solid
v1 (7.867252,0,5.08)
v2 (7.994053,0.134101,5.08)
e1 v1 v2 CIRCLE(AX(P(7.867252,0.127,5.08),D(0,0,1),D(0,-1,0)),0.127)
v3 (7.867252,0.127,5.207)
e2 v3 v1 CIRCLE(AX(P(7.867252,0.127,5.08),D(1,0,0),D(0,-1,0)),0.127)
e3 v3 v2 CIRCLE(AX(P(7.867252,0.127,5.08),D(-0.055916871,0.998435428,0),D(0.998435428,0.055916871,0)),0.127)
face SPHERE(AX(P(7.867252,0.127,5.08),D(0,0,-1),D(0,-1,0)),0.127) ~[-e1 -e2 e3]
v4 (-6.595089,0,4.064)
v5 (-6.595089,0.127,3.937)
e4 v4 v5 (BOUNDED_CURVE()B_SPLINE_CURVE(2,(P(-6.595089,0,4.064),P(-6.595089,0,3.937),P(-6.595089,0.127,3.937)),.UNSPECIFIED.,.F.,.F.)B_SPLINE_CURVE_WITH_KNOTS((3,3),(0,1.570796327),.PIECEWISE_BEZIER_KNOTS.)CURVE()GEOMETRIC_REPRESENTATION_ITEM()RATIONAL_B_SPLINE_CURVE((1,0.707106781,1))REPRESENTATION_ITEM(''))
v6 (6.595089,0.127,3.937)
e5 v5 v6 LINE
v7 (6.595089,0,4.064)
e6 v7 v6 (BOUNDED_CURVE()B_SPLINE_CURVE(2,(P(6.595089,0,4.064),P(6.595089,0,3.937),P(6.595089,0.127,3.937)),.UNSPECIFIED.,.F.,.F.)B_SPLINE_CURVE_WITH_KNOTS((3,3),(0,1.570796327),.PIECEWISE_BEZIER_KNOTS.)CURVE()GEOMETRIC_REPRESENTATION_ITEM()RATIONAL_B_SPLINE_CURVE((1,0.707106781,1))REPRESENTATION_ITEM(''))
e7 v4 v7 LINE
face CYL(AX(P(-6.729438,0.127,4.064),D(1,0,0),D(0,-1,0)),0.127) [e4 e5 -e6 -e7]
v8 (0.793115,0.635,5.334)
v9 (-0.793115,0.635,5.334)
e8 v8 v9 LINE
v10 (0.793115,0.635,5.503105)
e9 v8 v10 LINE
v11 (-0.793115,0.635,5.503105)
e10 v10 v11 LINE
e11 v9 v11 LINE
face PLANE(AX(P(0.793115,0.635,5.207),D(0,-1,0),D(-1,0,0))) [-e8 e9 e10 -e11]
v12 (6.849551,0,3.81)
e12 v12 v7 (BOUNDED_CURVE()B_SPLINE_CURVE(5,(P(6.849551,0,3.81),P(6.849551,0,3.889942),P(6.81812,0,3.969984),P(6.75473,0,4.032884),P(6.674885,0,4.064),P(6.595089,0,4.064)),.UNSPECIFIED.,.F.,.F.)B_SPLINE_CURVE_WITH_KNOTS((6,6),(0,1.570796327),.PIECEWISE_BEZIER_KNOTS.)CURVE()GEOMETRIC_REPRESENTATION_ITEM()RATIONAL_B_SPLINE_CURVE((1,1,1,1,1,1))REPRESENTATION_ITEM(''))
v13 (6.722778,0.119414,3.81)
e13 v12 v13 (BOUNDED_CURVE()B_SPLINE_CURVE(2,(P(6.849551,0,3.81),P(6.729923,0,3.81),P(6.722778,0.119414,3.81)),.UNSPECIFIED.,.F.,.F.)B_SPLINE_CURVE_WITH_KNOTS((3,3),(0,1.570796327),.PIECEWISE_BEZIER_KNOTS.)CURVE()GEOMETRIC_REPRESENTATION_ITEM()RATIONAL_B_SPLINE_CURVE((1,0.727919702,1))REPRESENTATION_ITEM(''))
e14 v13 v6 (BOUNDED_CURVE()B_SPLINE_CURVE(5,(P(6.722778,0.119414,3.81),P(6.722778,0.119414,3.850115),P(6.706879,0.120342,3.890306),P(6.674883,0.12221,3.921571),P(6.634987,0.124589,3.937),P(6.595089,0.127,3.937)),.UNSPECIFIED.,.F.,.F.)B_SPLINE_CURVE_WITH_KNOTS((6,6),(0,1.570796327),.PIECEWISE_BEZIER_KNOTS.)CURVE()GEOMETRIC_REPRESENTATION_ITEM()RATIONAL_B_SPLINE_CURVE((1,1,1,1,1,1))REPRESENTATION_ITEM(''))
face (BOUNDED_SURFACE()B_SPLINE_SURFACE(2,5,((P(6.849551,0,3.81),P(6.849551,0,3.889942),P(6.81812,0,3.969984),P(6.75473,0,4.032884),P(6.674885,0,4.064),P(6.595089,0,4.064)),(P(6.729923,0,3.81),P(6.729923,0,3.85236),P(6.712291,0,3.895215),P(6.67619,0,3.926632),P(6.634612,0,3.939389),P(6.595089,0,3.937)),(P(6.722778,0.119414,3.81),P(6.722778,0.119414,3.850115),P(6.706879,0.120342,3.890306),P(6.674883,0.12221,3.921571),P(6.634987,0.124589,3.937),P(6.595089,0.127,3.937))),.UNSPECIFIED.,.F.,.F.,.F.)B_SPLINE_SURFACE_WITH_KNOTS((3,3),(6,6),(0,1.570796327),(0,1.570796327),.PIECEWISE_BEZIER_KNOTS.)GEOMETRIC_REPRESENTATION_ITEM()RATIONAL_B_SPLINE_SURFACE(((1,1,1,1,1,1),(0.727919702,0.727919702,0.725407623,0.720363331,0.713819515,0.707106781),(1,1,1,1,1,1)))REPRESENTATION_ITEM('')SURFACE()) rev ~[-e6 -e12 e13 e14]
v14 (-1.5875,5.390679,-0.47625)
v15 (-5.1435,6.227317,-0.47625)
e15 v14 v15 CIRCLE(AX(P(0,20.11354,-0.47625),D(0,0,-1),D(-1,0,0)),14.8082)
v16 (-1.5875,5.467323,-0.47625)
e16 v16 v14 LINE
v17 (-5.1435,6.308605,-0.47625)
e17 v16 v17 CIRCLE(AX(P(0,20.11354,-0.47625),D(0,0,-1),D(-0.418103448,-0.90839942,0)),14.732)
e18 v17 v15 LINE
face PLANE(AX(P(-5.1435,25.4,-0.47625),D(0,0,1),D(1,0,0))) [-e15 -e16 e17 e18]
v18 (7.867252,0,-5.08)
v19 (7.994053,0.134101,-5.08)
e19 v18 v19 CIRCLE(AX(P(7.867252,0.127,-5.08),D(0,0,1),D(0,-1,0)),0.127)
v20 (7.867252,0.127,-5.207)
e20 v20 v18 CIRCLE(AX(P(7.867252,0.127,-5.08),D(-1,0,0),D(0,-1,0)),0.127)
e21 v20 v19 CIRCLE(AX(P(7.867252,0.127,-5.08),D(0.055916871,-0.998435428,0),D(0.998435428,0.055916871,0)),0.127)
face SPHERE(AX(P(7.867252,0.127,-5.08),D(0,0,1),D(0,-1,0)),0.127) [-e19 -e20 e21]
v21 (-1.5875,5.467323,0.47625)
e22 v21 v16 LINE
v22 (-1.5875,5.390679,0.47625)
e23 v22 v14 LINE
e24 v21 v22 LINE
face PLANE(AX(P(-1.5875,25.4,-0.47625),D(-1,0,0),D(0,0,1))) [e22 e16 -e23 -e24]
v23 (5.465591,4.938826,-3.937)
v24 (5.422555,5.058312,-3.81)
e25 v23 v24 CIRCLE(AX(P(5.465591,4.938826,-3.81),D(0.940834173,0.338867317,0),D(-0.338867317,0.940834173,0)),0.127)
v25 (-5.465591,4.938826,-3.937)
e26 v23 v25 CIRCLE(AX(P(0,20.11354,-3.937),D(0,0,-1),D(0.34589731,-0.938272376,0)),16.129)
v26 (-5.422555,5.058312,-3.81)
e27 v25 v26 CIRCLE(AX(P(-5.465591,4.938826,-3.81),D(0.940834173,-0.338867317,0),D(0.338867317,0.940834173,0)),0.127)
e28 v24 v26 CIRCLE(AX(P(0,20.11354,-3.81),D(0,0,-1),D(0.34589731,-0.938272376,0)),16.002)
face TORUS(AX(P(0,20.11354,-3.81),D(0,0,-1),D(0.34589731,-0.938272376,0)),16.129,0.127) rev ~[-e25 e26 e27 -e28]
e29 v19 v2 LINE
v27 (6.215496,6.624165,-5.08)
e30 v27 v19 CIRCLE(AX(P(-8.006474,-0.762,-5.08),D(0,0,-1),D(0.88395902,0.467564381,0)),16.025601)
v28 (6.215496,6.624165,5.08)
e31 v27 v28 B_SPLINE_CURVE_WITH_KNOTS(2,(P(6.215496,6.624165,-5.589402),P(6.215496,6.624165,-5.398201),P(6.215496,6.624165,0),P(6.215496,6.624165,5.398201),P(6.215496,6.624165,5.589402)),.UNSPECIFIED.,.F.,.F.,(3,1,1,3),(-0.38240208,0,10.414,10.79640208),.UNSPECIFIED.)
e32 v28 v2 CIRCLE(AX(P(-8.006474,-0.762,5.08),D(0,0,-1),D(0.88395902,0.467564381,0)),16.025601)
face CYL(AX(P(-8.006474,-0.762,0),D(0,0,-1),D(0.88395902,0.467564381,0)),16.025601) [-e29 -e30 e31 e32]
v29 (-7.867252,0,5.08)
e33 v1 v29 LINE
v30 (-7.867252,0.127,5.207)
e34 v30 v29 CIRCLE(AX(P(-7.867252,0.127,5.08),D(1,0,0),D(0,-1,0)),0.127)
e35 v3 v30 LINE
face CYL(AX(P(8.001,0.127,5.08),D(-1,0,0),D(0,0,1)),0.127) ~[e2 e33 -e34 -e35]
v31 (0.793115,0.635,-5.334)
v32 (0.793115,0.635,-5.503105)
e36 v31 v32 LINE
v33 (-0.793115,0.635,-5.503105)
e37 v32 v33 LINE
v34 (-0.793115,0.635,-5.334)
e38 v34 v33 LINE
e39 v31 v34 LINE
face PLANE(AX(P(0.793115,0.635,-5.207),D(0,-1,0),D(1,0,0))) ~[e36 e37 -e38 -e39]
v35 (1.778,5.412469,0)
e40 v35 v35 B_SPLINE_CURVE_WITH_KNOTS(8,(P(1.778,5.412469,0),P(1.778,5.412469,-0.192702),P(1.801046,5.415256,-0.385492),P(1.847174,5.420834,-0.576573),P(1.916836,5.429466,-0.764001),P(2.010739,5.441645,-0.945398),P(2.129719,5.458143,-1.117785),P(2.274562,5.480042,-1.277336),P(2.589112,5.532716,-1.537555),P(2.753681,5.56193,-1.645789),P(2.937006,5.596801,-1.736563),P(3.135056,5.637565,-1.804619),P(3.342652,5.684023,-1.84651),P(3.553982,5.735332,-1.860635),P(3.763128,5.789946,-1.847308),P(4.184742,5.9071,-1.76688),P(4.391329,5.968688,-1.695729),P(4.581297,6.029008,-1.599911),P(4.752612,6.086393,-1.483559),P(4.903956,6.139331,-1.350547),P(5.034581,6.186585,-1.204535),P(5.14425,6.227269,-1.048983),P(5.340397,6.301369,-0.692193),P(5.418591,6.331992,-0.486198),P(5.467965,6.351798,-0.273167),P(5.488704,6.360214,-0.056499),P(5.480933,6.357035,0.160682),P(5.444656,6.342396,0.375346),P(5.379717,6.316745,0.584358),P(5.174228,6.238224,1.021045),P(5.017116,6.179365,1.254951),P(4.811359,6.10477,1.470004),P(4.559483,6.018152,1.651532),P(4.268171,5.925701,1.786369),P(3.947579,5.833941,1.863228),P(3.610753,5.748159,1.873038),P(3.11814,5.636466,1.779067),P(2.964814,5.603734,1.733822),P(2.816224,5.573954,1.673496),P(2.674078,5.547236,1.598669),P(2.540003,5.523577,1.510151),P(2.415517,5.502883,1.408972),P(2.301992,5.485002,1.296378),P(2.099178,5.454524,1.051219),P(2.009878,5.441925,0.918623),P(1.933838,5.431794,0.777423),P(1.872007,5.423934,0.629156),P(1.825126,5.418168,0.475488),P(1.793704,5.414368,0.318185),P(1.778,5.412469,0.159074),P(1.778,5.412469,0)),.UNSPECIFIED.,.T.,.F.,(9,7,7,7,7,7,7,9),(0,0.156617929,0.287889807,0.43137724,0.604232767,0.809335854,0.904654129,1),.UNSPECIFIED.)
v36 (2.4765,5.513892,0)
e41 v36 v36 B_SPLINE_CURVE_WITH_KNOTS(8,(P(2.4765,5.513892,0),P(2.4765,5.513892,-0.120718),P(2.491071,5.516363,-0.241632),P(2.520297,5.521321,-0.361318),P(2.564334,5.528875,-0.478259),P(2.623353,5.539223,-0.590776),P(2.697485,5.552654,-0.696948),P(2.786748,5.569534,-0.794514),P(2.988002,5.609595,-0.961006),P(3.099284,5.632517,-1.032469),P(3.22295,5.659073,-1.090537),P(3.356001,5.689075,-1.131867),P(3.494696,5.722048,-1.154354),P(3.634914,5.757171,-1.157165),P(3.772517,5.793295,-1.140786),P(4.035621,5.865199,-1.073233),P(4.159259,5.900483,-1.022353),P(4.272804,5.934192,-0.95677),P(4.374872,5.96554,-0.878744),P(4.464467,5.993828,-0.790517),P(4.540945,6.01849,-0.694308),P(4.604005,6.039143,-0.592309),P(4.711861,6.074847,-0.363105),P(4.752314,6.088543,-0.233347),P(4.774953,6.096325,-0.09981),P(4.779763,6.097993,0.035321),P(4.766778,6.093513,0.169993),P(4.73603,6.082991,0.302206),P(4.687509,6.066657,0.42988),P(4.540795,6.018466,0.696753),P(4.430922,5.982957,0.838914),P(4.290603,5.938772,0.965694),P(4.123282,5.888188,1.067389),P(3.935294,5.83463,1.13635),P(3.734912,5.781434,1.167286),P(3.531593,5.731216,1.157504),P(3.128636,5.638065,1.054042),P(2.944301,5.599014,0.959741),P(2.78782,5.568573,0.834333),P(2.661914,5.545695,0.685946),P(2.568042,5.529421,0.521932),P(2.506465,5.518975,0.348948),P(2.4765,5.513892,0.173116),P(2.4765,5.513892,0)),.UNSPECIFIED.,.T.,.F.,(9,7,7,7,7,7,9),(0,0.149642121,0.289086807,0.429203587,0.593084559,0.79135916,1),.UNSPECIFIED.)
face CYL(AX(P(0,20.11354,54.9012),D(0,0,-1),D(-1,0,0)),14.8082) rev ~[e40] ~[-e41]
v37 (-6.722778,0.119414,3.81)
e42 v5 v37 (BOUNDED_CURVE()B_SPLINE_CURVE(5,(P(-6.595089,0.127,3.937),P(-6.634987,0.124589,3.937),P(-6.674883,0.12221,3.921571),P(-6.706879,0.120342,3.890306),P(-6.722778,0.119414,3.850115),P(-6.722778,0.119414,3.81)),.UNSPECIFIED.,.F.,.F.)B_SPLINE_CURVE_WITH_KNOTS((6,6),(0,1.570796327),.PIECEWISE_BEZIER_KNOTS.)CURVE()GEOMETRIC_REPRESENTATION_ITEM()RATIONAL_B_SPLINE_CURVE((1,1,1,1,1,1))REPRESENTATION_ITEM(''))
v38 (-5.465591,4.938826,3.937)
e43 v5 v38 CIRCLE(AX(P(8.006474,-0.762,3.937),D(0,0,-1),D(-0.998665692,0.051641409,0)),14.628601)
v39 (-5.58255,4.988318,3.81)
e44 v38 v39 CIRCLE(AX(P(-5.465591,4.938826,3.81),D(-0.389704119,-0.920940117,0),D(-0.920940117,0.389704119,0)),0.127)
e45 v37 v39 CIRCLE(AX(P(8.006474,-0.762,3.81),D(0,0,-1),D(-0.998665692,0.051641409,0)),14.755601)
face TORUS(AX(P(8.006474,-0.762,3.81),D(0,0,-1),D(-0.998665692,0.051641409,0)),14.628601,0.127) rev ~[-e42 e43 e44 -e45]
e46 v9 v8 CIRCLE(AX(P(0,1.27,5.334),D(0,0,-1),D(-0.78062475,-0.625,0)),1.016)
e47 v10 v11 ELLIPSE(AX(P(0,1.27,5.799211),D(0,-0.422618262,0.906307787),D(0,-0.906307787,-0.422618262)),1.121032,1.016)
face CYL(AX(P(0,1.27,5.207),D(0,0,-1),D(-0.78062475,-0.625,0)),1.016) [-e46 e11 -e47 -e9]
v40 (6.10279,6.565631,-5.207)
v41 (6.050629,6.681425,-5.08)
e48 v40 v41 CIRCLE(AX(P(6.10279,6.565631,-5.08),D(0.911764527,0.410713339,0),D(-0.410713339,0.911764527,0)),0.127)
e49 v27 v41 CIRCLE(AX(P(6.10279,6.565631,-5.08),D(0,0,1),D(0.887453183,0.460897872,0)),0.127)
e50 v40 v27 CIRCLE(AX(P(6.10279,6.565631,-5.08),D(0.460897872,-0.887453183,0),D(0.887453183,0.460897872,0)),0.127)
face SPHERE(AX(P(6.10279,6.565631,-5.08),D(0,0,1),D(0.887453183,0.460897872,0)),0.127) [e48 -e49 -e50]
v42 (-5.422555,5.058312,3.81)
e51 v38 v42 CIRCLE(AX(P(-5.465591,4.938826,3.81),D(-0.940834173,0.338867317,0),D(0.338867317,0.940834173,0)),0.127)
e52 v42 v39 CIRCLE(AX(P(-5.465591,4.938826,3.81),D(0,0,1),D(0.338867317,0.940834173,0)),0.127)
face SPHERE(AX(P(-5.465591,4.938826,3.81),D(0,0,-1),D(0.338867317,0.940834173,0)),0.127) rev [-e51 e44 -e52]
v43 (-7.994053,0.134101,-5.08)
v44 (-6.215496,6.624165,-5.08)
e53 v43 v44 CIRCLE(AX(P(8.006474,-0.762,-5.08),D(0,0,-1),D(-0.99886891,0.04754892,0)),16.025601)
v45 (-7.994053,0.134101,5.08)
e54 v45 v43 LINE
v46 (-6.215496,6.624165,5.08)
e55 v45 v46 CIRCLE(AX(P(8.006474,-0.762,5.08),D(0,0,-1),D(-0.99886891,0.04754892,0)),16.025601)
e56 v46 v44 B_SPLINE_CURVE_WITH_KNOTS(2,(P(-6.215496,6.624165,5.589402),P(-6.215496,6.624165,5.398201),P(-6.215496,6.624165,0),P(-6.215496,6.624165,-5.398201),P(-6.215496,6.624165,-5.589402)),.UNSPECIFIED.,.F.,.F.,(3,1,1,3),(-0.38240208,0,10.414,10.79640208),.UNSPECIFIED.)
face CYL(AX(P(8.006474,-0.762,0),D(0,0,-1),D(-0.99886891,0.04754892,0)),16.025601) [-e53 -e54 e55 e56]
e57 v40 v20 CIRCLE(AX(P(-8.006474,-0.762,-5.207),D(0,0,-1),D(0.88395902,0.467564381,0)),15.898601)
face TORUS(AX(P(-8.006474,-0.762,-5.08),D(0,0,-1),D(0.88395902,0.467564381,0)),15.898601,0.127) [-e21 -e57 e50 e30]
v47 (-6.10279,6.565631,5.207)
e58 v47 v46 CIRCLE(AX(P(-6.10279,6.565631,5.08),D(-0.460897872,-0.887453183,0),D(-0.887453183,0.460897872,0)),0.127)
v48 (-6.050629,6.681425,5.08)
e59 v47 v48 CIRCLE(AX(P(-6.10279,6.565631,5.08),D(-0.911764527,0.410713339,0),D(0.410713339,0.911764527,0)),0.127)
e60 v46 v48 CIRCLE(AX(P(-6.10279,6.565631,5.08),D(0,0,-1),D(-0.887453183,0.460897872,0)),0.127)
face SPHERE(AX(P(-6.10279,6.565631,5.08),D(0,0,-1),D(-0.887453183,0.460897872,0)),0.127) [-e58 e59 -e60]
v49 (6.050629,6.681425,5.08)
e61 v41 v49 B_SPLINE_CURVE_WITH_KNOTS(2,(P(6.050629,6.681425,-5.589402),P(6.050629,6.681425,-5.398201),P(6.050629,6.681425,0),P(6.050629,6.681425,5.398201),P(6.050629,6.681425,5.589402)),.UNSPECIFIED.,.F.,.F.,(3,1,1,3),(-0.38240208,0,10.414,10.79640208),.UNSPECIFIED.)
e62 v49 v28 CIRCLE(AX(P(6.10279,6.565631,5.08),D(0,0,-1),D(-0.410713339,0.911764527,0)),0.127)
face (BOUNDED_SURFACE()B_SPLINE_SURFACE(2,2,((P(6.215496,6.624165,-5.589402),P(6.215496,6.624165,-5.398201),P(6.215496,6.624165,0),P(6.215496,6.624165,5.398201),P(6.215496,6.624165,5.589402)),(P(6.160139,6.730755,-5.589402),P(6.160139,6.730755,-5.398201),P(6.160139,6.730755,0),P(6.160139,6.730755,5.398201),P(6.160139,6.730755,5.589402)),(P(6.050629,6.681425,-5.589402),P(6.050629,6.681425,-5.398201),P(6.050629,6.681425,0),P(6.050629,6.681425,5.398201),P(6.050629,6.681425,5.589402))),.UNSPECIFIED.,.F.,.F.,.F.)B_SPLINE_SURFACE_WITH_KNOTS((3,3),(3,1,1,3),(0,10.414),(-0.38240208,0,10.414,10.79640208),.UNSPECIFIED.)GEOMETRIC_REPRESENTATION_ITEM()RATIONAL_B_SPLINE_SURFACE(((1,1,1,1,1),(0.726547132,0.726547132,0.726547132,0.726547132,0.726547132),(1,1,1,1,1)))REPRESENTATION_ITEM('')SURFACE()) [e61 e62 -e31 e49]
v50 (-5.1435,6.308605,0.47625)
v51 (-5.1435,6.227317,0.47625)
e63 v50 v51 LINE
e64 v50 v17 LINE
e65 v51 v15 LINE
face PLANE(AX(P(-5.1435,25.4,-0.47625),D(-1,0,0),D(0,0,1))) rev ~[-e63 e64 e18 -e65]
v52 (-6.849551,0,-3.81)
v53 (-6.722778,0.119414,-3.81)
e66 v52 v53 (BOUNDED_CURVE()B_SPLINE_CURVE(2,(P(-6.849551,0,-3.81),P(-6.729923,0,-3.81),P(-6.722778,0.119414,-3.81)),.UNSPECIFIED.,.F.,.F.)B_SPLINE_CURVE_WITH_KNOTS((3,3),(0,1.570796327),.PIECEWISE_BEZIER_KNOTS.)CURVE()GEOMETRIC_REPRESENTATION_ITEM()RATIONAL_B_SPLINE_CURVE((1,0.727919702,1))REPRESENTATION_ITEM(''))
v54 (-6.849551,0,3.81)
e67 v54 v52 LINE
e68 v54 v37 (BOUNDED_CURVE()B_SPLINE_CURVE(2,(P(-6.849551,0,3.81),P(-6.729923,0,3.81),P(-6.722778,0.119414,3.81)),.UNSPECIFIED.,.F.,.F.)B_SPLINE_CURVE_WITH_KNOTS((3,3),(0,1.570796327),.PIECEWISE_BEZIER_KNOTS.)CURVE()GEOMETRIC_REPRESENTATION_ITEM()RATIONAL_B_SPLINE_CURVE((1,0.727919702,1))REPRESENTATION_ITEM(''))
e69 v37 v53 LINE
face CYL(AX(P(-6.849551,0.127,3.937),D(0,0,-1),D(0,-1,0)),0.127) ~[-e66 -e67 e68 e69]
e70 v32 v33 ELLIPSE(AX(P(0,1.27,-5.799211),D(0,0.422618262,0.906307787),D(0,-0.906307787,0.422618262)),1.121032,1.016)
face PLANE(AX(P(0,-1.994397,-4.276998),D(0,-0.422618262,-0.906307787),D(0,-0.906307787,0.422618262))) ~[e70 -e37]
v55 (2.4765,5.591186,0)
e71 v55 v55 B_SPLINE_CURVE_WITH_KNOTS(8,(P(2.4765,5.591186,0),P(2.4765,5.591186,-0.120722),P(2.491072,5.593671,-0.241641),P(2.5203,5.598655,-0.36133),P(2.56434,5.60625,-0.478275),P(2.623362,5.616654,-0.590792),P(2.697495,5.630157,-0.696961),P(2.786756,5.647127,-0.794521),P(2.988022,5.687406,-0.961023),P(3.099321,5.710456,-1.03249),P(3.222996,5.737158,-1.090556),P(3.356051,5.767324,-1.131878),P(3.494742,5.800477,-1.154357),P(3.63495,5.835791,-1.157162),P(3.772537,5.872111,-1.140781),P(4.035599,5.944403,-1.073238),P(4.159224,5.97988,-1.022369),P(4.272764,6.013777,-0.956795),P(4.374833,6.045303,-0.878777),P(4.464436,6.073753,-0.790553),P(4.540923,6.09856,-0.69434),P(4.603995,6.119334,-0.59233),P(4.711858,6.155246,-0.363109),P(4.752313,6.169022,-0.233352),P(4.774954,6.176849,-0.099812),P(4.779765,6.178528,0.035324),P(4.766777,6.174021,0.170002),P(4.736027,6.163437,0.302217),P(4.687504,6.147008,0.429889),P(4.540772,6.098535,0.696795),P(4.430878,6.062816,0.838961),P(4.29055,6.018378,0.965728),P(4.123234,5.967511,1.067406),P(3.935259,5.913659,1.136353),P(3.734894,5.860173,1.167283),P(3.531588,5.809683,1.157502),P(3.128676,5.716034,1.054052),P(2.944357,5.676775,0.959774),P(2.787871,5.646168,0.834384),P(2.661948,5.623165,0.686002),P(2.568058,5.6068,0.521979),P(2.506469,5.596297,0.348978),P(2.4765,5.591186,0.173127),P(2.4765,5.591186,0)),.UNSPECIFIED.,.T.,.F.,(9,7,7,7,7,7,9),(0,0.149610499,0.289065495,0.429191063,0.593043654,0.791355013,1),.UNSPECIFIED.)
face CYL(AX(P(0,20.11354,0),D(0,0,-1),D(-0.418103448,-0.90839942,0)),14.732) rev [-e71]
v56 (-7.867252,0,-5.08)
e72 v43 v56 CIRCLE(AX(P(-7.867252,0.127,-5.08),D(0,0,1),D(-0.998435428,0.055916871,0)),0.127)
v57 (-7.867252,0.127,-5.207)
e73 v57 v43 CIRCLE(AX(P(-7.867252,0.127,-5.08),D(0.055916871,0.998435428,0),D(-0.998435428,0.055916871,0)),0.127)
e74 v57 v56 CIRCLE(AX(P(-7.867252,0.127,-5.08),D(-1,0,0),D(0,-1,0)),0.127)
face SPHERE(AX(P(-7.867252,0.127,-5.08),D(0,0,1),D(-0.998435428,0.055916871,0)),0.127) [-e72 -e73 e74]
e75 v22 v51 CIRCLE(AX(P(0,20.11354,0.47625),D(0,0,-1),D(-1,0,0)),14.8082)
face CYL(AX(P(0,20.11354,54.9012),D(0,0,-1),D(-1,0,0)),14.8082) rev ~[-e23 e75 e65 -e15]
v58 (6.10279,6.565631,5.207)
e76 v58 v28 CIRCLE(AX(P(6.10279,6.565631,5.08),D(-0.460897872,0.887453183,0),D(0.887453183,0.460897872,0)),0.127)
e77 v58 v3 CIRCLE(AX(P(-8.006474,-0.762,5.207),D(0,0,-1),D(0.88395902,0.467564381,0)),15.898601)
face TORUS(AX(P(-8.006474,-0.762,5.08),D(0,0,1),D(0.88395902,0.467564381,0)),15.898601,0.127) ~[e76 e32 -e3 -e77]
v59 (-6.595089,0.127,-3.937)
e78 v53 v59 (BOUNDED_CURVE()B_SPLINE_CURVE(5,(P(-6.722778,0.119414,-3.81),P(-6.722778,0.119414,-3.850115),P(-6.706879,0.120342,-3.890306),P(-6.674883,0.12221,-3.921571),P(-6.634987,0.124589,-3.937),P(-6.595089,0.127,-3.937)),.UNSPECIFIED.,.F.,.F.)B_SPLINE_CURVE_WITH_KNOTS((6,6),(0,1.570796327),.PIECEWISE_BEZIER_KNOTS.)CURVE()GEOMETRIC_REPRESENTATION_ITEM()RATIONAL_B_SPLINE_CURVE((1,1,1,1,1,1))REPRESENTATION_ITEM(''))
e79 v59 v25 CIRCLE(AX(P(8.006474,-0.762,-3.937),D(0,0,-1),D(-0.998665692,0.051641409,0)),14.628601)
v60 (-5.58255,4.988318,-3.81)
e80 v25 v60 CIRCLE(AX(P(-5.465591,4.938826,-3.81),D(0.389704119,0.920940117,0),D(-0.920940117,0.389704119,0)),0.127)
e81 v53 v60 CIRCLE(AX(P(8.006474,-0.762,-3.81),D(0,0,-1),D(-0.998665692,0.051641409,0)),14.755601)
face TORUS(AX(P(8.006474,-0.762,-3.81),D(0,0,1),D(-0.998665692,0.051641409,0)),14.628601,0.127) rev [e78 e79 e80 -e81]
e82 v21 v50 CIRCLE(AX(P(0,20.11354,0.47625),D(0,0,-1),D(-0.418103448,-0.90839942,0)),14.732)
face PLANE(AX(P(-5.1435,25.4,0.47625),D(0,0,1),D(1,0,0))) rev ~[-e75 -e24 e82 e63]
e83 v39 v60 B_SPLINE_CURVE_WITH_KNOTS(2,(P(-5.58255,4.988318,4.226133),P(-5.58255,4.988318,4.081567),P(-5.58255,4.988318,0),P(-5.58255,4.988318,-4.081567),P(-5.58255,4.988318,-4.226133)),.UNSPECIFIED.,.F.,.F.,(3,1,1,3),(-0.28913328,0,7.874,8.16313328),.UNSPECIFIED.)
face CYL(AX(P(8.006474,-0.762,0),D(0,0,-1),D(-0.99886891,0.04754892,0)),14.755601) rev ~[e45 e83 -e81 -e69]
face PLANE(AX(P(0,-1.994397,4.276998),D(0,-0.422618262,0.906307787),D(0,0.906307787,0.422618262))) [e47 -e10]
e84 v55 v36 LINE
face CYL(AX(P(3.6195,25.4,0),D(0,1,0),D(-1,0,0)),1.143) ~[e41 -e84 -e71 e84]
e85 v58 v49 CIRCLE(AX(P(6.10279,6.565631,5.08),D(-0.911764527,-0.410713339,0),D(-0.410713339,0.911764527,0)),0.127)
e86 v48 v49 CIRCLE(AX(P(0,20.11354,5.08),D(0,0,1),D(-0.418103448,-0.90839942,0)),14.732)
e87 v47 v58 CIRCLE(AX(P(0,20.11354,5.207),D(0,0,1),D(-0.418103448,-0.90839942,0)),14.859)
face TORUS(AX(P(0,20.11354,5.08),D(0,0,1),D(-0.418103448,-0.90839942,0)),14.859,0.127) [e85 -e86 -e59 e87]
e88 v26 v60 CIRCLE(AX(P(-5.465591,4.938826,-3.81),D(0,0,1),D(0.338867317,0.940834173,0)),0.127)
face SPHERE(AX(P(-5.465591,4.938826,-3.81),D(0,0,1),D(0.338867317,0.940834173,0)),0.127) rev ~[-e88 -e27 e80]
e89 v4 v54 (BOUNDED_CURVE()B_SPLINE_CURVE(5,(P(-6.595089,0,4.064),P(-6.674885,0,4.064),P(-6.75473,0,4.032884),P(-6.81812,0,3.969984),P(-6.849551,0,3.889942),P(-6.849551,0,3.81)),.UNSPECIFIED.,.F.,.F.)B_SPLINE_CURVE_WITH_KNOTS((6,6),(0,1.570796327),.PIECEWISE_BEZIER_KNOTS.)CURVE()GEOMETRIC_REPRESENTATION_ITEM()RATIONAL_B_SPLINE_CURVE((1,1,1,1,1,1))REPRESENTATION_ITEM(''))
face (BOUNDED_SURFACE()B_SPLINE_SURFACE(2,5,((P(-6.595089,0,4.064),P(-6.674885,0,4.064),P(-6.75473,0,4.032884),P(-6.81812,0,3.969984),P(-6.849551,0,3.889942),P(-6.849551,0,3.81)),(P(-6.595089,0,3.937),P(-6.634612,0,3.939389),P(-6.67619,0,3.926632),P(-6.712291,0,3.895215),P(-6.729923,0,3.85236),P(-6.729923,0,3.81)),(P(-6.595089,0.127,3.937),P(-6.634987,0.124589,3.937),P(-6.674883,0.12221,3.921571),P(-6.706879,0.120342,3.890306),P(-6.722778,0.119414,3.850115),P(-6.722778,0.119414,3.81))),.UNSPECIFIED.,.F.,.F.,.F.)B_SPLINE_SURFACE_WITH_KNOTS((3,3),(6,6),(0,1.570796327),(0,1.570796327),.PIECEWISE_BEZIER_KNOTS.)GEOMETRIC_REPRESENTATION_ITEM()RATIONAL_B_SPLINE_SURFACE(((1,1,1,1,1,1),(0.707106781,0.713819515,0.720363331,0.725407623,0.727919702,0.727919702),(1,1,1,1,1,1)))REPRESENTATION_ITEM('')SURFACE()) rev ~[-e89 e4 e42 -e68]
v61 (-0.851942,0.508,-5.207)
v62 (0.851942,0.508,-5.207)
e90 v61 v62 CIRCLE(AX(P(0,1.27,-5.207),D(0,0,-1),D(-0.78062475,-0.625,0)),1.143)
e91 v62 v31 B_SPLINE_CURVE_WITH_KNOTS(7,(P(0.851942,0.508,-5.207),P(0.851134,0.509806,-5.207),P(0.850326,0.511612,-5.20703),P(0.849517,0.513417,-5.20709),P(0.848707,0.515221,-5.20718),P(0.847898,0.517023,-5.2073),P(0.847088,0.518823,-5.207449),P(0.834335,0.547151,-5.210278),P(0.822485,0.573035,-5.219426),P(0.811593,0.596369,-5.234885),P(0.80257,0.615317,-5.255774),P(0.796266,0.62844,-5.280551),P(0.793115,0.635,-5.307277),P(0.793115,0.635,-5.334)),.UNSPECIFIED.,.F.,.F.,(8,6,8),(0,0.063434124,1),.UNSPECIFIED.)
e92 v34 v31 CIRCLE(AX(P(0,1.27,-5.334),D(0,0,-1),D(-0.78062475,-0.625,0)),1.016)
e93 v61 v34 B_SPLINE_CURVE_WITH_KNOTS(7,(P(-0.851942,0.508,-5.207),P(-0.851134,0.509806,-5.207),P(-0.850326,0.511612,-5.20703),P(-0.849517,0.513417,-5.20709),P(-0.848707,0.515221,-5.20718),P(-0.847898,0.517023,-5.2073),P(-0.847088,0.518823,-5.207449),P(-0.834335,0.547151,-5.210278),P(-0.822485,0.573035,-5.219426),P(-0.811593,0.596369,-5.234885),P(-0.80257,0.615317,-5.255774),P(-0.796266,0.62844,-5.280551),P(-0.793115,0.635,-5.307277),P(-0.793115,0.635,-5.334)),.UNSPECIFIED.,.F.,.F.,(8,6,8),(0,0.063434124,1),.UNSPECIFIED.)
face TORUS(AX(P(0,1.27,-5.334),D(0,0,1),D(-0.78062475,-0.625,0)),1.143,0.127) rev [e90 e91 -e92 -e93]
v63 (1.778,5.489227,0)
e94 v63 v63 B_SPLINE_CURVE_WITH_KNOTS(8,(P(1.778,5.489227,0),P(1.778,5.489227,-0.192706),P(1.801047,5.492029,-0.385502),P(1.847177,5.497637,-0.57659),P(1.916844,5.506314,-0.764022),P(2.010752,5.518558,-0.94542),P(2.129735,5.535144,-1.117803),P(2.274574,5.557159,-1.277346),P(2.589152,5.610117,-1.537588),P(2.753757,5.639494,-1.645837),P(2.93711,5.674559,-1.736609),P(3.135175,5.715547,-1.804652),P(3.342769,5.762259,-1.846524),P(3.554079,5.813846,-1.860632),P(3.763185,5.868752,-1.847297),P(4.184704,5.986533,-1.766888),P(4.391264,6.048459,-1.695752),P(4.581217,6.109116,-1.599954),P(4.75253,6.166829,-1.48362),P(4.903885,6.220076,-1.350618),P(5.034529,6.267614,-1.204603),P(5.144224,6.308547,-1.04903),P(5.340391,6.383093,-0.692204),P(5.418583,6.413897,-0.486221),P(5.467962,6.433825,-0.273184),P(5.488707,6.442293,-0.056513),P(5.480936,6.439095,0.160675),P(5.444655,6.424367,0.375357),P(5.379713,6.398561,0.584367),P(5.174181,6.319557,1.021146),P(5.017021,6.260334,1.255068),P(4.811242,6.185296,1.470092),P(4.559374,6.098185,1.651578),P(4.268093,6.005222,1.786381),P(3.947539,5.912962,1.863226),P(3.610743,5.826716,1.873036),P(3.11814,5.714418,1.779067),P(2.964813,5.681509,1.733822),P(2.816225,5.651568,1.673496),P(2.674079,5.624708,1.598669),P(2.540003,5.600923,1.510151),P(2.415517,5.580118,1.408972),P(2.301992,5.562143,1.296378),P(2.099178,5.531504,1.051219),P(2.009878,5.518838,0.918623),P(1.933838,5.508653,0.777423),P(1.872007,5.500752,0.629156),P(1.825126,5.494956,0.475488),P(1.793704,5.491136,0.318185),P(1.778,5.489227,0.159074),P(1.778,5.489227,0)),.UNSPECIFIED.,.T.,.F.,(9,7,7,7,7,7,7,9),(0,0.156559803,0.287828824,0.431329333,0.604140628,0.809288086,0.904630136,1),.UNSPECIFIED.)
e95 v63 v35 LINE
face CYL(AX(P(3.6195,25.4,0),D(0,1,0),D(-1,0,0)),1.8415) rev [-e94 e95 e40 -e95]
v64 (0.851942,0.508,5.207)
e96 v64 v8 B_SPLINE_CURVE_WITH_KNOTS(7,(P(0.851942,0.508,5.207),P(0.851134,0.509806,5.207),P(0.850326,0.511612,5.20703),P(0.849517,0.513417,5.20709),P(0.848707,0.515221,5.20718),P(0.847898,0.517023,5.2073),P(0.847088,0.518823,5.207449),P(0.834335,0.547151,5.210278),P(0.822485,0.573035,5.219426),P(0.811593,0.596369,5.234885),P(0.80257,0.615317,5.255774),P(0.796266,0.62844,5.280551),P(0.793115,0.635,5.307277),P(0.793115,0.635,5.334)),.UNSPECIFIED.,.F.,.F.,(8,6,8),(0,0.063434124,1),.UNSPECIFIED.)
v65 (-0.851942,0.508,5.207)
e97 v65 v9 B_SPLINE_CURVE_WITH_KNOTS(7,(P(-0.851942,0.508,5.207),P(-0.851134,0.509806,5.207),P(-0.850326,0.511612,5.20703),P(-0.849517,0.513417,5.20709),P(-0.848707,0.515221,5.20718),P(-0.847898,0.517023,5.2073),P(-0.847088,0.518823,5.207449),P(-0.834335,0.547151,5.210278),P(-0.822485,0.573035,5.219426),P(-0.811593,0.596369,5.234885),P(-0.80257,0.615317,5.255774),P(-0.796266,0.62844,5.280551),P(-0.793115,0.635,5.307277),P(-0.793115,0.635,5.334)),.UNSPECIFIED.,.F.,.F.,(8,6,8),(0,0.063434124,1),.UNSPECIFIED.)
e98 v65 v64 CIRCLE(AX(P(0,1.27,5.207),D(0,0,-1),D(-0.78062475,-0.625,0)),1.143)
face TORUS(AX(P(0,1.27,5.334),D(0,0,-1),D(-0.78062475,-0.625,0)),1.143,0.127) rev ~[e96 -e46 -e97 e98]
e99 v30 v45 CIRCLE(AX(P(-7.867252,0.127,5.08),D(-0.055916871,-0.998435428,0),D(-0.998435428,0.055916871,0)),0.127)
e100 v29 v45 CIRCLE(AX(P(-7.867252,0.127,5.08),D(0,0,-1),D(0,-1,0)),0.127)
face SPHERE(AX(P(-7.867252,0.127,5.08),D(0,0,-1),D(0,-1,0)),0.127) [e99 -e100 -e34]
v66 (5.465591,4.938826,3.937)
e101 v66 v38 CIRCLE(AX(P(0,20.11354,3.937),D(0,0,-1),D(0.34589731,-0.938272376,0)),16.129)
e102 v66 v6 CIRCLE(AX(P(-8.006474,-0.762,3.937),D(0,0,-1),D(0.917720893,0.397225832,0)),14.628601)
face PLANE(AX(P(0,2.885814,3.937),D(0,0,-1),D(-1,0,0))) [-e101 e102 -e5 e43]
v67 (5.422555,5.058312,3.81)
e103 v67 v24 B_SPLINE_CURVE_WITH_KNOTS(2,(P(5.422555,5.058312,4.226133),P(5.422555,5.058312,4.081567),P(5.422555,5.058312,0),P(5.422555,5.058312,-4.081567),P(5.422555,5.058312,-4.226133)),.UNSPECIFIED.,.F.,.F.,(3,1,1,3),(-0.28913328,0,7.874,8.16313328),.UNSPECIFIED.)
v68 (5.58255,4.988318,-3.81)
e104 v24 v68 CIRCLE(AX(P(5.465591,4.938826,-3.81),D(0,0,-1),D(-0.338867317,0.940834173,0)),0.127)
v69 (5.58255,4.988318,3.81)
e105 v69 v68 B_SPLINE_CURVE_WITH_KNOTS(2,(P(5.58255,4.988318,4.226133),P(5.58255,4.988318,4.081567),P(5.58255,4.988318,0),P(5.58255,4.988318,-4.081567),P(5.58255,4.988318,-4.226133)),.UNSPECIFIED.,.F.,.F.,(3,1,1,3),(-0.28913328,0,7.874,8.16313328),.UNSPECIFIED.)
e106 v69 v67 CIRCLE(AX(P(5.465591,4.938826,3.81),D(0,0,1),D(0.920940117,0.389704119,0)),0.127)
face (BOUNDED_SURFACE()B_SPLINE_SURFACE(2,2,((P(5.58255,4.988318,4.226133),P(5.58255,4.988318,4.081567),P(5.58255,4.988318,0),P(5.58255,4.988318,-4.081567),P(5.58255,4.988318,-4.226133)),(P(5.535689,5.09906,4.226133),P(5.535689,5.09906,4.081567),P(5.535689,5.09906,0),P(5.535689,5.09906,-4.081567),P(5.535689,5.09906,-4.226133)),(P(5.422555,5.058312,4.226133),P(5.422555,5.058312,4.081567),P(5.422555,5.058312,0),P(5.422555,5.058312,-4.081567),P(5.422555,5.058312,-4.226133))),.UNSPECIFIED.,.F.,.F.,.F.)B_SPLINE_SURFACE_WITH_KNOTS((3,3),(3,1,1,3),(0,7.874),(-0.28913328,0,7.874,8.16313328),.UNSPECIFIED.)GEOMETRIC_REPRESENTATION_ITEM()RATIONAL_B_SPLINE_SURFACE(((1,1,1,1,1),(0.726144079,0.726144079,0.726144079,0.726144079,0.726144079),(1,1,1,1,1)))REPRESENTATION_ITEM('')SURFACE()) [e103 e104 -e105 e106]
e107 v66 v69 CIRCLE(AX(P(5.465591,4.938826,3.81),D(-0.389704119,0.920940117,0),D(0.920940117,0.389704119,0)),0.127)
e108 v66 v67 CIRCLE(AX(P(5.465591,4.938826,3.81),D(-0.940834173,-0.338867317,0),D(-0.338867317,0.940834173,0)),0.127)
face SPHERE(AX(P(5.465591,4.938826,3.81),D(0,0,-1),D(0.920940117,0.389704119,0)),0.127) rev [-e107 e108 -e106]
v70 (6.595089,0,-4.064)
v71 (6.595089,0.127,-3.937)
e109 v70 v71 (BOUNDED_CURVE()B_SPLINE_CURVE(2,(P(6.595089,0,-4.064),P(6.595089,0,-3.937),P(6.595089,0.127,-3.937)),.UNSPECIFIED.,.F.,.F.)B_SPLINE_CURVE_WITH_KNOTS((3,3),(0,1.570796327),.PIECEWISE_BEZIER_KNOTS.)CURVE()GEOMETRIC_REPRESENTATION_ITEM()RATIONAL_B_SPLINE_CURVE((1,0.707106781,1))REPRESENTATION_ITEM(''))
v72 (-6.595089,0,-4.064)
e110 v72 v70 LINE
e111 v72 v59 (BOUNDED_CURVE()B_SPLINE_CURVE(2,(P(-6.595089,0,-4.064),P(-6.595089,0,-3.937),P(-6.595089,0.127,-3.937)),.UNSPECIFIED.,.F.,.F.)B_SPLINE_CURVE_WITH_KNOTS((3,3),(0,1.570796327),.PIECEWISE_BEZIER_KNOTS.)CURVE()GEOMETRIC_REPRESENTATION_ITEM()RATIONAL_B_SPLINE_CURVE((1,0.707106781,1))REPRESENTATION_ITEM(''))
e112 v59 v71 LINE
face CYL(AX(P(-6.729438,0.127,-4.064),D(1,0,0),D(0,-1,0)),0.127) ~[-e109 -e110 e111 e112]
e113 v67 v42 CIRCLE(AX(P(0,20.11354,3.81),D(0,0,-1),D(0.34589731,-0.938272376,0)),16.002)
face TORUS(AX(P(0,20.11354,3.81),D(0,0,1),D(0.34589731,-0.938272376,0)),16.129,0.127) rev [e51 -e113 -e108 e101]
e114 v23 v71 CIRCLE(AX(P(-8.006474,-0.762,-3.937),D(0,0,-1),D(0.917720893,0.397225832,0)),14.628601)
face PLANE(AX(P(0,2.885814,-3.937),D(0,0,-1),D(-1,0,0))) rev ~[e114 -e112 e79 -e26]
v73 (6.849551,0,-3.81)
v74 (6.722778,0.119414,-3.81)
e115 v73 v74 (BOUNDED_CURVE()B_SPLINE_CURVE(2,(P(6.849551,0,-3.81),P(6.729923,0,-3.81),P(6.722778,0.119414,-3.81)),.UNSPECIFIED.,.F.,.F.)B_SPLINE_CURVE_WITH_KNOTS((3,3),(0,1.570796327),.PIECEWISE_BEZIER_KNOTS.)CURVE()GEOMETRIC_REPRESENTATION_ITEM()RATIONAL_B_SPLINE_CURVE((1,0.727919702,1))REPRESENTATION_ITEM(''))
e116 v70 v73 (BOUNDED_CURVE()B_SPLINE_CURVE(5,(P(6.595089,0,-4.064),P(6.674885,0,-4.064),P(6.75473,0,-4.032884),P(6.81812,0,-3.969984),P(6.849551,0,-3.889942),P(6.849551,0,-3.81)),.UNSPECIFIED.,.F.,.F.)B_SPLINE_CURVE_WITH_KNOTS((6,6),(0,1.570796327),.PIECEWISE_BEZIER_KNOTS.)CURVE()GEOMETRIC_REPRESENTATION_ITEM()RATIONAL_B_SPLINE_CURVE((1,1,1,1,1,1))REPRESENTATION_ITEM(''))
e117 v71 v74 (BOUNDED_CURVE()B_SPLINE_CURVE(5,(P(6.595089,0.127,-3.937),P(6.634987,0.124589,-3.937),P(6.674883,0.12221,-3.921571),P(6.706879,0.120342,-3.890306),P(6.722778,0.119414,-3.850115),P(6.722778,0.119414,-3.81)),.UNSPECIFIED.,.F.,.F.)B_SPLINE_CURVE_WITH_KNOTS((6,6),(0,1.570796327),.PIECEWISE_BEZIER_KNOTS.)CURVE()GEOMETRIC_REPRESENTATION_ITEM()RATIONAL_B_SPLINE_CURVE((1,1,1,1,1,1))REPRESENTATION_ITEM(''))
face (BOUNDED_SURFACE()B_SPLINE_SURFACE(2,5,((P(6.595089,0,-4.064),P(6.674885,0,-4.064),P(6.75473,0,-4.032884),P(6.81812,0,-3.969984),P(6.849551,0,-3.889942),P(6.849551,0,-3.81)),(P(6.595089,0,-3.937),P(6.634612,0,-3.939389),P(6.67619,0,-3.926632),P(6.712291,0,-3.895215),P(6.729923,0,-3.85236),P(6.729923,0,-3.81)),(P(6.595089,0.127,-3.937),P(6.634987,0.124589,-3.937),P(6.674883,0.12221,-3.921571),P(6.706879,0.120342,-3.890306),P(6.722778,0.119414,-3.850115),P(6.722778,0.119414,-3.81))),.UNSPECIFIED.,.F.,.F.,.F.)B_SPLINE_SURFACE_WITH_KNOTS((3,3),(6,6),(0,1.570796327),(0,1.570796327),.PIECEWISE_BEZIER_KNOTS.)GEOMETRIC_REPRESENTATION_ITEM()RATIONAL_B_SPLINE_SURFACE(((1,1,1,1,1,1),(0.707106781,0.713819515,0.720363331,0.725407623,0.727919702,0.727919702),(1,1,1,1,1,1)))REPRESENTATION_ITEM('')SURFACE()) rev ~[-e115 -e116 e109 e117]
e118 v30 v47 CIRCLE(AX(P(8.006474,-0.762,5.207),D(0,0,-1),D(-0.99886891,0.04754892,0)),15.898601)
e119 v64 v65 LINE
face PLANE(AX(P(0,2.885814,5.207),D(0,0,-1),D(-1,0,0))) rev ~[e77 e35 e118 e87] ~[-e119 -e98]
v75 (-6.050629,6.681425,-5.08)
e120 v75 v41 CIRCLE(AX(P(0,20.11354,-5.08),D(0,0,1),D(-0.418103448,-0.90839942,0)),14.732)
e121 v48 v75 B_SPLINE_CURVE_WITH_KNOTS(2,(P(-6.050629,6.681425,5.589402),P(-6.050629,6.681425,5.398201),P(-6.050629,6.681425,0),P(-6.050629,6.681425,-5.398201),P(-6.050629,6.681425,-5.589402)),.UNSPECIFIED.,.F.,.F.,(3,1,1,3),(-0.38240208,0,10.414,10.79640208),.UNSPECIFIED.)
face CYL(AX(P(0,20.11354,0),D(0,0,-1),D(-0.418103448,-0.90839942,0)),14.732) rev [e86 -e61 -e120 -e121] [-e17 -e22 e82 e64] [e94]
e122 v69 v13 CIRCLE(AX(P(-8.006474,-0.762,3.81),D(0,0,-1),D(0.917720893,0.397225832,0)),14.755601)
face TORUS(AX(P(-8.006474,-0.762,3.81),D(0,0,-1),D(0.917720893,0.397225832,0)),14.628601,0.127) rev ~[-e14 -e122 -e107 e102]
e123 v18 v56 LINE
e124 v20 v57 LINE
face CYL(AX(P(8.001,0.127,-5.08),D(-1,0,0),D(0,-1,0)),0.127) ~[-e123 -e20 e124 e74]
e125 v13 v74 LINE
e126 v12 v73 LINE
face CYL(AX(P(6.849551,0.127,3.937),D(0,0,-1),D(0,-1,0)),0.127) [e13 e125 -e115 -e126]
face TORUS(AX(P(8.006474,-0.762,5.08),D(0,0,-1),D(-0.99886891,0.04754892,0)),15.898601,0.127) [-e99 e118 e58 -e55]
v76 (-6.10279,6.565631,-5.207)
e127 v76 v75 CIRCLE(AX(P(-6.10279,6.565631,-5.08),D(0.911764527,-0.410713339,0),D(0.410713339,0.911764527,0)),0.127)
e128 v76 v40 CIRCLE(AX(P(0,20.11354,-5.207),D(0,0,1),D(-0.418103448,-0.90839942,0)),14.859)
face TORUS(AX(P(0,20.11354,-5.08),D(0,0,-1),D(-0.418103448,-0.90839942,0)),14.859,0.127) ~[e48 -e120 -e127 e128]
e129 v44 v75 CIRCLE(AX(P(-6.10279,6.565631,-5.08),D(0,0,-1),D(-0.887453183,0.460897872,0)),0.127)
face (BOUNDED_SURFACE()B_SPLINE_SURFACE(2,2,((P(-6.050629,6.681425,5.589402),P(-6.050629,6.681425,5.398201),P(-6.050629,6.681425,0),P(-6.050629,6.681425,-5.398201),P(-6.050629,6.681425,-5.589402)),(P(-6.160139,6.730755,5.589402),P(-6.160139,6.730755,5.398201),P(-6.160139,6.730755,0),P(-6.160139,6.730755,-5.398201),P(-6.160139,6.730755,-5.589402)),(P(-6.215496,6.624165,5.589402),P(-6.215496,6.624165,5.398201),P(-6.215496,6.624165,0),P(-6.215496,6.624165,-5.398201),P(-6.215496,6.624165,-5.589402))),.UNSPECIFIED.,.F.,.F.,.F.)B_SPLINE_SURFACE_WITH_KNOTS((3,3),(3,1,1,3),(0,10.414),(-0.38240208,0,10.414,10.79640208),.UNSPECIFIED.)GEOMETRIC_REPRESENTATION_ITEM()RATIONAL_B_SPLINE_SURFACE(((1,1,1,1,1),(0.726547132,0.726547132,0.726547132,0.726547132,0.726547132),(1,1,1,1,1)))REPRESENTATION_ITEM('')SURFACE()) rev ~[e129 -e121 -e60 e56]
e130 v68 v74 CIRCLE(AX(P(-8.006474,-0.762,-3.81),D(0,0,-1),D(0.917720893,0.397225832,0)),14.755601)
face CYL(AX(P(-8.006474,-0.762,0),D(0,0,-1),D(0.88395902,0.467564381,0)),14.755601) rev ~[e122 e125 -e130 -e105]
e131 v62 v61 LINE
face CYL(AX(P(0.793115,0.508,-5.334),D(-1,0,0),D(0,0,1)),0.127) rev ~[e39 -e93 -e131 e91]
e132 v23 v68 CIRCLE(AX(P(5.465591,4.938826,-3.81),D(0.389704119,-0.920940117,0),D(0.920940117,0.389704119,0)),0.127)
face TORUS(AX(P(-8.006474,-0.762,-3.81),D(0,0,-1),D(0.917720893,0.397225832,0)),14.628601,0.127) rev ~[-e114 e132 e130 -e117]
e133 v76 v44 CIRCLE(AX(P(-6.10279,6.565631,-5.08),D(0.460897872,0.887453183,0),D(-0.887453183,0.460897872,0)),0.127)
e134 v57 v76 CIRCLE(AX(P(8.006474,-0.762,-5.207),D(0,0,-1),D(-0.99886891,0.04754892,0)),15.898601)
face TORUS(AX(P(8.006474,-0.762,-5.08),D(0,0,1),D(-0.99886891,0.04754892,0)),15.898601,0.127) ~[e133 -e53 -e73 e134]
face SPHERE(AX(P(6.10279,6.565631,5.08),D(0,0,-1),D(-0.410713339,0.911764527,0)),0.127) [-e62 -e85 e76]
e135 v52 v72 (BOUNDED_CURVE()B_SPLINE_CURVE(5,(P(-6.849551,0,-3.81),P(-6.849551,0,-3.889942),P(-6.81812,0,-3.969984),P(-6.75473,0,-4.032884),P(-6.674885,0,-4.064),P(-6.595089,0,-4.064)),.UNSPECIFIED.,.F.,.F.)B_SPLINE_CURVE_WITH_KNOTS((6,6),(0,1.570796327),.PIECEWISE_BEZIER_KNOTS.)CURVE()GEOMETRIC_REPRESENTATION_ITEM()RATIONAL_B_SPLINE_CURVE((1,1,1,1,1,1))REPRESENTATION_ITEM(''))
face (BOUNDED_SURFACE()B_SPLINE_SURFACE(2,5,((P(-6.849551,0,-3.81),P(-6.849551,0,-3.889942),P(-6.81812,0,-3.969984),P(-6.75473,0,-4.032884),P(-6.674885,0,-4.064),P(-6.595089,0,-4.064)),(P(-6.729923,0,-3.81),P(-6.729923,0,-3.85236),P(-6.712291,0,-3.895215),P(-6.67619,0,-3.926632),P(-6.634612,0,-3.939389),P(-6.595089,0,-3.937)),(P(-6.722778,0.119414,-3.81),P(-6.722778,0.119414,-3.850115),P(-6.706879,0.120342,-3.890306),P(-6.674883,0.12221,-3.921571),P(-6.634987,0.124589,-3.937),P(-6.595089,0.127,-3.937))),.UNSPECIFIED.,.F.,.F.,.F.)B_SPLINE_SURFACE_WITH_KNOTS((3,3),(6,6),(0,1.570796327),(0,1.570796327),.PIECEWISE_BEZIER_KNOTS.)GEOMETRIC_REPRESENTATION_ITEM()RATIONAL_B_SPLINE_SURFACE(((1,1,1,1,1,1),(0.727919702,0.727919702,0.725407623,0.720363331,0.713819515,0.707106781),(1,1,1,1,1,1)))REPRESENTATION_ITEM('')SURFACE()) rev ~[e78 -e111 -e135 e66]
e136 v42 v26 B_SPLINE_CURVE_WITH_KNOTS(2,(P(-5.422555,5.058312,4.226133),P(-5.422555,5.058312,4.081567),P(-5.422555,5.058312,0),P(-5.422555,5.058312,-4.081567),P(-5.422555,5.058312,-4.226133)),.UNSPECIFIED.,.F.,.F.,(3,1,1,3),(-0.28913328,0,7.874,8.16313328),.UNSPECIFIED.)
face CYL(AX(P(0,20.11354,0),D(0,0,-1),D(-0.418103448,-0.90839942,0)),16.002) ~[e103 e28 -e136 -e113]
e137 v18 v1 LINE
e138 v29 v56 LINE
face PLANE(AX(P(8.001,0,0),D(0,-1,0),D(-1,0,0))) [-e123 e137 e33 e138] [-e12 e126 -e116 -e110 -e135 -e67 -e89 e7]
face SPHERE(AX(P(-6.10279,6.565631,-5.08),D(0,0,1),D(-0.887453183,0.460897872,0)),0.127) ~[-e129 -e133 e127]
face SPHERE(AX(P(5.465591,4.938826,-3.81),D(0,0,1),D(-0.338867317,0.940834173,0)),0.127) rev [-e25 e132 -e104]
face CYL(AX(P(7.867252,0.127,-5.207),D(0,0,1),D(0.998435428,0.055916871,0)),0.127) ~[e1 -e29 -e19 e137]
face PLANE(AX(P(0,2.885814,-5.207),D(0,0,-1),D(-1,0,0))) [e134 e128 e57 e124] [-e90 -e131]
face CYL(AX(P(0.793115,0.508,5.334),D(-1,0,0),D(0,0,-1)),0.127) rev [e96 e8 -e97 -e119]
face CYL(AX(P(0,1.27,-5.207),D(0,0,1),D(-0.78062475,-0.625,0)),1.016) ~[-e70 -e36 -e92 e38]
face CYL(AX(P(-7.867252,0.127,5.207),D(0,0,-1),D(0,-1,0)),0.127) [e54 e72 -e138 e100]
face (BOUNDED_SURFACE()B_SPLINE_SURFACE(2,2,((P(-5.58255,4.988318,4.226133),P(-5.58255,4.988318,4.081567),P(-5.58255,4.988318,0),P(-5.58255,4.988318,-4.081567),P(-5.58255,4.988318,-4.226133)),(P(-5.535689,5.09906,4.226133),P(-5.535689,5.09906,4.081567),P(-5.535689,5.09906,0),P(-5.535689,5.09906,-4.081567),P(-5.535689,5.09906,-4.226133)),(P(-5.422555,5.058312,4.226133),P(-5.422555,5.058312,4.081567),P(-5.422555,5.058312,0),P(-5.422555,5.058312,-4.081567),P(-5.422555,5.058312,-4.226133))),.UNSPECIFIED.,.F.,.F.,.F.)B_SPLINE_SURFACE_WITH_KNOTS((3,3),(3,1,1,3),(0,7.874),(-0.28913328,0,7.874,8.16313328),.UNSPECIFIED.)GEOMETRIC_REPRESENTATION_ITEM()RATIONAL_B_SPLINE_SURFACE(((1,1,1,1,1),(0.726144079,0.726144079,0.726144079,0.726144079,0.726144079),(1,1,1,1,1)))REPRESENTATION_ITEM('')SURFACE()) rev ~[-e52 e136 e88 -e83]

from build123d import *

# Parameters (mm, degrees)
BOSS_EXTRUDE1_DEPTH     = 5.207
SHELL1_T                = -1.27
BOSS_EXTRUDE2_REACH     = 16.757
CUT_EXTRUDE1_REACH      = 39.593
CUT_EXTRUDE1_END_RADIUS = 14.8082
CUT_EXTRUDE1_START      = -25.4
SKETCH11_R              = 1.8415
SKETCH11_R_2            = 1.143
SKETCH11_W              = 3.556
SKETCH11_H              = 0.9525
FILLET1_R               = 0.127


with BuildPart() as part:
    # Sketch1 → Boss-Extrude1 (new, symmetric)
    with BuildSketch(Plane(origin=(0, 0, 0), x_dir=(-1, 0, 0), z_dir=(0, 0, -1))):
        with BuildLine():
            Line((-8.001, 0), (8.001, 0))
            ThreePointArc((8.001, 0), (7.451075327, 3.466952212), (6.1595, 6.731))
            ThreePointArc((6.1595, 6.731), (0, 5.381540258), (-6.1595, 6.731))
            ThreePointArc((-6.1595, 6.731), (-7.451075327, 3.466952212), (-8.001, 0))
        make_face()
    extrude(amount=BOSS_EXTRUDE1_DEPTH, both=True)

    # Shell1
    shell1_openings = [part.faces().sort_by_distance(p)[0] for p in [
        (0, 0, 0),
    ]]
    offset(amount=SHELL1_T, openings=shell1_openings, kind=Kind.INTERSECTION)

    # Boss-Extrude2: up to this plane
    boss_extrude2_end = Plane(origin=(0, -1.994396708, 4.276997542), z_dir=(0, -0.4226182617407003, 0.9063077870366496))
    # Sketch5 → Boss-Extrude2 (add, up to the surface)
    with BuildSketch(Plane.XY.offset(5.207), mode=Mode.PRIVATE) as boss_extrude2_sk1:
        with BuildLine():
            Line((0.793114746, 0.635), (-0.793114746, 0.635))
            ThreePointArc((-0.793114746, 0.635), (0, 2.286), (0.793114746, 0.635))
        make_face()
    boss_extrude2_tool1 = split(extrude(boss_extrude2_sk1.sketch, amount=BOSS_EXTRUDE2_REACH, mode=Mode.PRIVATE), bisect_by=boss_extrude2_end, keep=Keep.BOTH, mode=Mode.PRIVATE)
    boss_extrude2 = boss_extrude2_tool1.solids().sort_by_distance((0, 1.387858, 5.207))[0]
    add(boss_extrude2)

    # Mirror2: Boss-Extrude2 across plane
    add(boss_extrude2.mirror(Plane.XY))

    # Cut-Extrude1: up to this cylinder (the profile starts inside it)
    cut_extrude1_end = Plane(origin=(0, 20.113540258, 0), z_dir=(0, 0, -1)) * Cylinder(CUT_EXTRUDE1_END_RADIUS, 109.8024, mode=Mode.PRIVATE)
    # Sketch11 → Cut-Extrude1 (cut, up to the surface)
    with BuildSketch(Plane.XZ.offset(CUT_EXTRUDE1_START), mode=Mode.PRIVATE) as cut_extrude1_sk1:
        with Locations(Location((3.6195, 0, 0), (0, 0, 180))):
            Circle(SKETCH11_R)
        with Locations(Location((3.6195, 0, 0), (0, 0, 180))):
            Circle(SKETCH11_R_2, mode=Mode.SUBTRACT)
    cut_extrude1_tool1 = extrude(cut_extrude1_sk1.sketch, amount=CUT_EXTRUDE1_REACH, mode=Mode.PRIVATE) & cut_extrude1_end
    add(cut_extrude1_tool1.solids().sort_by_distance((5.408915, 25.4, 0))[0], mode=Mode.SUBTRACT)
    # Sketch11 → Cut-Extrude1 (cut, up to the surface)
    with BuildSketch(Plane.XZ.offset(CUT_EXTRUDE1_START), mode=Mode.PRIVATE) as cut_extrude1_sk2:
        with Locations((-3.3655, 0)):
            Rectangle(SKETCH11_W, SKETCH11_H)
    cut_extrude1_tool2 = extrude(cut_extrude1_sk2.sketch, amount=CUT_EXTRUDE1_REACH, mode=Mode.PRIVATE) & cut_extrude1_end
    add(cut_extrude1_tool2.solids().sort_by_distance((-3.3655, 25.4, 0))[0], mode=Mode.SUBTRACT)

    # Fillet1
    fillet1_edges = [part.edges().sort_by_distance(p)[0] for p in [
        (0, 0, 5.207),
        (-7.451075327, 3.466952212, 5.207),
        (0, 4.111540258, 3.937),
        (5.535048759, 5.099305704, 0),
        (-6.360295192, 2.603068492, 3.937),
        (-5.535048759, 5.099305704, 0),
        (0, 0, 3.937),
        (-6.729437878, 0, 0),
        (6.360295192, 2.603068492, 3.937),
        (6.729437878, 0, 0),
        (0, 4.111540258, -3.937),
        (6.360295192, 2.603068492, -3.937),
        (0, 0, -3.937),
        (-6.360295192, 2.603068492, -3.937),
        (0, 2.286, 5.207),
        (0, 0.635, 5.207),
        (0, 2.286, -5.207),
        (0, 0.635, -5.207),
        (0, 5.381540258, 5.207),
        (-7.451075327, 3.466952212, -5.207),
        (0, 0, -5.207),
        (7.451075327, 3.466952212, -5.207),
        (0, 5.381540258, -5.207),
        (7.451075327, 3.466952212, 5.207),
        (-6.1595, 6.731, 0),
        (-8.001, 0, 0),
        (8.001, 0, 0),
        (6.1595, 6.731, 0),
    ]]
    fillet(fillet1_edges, radius=FILLET1_R)


solid = part.part
